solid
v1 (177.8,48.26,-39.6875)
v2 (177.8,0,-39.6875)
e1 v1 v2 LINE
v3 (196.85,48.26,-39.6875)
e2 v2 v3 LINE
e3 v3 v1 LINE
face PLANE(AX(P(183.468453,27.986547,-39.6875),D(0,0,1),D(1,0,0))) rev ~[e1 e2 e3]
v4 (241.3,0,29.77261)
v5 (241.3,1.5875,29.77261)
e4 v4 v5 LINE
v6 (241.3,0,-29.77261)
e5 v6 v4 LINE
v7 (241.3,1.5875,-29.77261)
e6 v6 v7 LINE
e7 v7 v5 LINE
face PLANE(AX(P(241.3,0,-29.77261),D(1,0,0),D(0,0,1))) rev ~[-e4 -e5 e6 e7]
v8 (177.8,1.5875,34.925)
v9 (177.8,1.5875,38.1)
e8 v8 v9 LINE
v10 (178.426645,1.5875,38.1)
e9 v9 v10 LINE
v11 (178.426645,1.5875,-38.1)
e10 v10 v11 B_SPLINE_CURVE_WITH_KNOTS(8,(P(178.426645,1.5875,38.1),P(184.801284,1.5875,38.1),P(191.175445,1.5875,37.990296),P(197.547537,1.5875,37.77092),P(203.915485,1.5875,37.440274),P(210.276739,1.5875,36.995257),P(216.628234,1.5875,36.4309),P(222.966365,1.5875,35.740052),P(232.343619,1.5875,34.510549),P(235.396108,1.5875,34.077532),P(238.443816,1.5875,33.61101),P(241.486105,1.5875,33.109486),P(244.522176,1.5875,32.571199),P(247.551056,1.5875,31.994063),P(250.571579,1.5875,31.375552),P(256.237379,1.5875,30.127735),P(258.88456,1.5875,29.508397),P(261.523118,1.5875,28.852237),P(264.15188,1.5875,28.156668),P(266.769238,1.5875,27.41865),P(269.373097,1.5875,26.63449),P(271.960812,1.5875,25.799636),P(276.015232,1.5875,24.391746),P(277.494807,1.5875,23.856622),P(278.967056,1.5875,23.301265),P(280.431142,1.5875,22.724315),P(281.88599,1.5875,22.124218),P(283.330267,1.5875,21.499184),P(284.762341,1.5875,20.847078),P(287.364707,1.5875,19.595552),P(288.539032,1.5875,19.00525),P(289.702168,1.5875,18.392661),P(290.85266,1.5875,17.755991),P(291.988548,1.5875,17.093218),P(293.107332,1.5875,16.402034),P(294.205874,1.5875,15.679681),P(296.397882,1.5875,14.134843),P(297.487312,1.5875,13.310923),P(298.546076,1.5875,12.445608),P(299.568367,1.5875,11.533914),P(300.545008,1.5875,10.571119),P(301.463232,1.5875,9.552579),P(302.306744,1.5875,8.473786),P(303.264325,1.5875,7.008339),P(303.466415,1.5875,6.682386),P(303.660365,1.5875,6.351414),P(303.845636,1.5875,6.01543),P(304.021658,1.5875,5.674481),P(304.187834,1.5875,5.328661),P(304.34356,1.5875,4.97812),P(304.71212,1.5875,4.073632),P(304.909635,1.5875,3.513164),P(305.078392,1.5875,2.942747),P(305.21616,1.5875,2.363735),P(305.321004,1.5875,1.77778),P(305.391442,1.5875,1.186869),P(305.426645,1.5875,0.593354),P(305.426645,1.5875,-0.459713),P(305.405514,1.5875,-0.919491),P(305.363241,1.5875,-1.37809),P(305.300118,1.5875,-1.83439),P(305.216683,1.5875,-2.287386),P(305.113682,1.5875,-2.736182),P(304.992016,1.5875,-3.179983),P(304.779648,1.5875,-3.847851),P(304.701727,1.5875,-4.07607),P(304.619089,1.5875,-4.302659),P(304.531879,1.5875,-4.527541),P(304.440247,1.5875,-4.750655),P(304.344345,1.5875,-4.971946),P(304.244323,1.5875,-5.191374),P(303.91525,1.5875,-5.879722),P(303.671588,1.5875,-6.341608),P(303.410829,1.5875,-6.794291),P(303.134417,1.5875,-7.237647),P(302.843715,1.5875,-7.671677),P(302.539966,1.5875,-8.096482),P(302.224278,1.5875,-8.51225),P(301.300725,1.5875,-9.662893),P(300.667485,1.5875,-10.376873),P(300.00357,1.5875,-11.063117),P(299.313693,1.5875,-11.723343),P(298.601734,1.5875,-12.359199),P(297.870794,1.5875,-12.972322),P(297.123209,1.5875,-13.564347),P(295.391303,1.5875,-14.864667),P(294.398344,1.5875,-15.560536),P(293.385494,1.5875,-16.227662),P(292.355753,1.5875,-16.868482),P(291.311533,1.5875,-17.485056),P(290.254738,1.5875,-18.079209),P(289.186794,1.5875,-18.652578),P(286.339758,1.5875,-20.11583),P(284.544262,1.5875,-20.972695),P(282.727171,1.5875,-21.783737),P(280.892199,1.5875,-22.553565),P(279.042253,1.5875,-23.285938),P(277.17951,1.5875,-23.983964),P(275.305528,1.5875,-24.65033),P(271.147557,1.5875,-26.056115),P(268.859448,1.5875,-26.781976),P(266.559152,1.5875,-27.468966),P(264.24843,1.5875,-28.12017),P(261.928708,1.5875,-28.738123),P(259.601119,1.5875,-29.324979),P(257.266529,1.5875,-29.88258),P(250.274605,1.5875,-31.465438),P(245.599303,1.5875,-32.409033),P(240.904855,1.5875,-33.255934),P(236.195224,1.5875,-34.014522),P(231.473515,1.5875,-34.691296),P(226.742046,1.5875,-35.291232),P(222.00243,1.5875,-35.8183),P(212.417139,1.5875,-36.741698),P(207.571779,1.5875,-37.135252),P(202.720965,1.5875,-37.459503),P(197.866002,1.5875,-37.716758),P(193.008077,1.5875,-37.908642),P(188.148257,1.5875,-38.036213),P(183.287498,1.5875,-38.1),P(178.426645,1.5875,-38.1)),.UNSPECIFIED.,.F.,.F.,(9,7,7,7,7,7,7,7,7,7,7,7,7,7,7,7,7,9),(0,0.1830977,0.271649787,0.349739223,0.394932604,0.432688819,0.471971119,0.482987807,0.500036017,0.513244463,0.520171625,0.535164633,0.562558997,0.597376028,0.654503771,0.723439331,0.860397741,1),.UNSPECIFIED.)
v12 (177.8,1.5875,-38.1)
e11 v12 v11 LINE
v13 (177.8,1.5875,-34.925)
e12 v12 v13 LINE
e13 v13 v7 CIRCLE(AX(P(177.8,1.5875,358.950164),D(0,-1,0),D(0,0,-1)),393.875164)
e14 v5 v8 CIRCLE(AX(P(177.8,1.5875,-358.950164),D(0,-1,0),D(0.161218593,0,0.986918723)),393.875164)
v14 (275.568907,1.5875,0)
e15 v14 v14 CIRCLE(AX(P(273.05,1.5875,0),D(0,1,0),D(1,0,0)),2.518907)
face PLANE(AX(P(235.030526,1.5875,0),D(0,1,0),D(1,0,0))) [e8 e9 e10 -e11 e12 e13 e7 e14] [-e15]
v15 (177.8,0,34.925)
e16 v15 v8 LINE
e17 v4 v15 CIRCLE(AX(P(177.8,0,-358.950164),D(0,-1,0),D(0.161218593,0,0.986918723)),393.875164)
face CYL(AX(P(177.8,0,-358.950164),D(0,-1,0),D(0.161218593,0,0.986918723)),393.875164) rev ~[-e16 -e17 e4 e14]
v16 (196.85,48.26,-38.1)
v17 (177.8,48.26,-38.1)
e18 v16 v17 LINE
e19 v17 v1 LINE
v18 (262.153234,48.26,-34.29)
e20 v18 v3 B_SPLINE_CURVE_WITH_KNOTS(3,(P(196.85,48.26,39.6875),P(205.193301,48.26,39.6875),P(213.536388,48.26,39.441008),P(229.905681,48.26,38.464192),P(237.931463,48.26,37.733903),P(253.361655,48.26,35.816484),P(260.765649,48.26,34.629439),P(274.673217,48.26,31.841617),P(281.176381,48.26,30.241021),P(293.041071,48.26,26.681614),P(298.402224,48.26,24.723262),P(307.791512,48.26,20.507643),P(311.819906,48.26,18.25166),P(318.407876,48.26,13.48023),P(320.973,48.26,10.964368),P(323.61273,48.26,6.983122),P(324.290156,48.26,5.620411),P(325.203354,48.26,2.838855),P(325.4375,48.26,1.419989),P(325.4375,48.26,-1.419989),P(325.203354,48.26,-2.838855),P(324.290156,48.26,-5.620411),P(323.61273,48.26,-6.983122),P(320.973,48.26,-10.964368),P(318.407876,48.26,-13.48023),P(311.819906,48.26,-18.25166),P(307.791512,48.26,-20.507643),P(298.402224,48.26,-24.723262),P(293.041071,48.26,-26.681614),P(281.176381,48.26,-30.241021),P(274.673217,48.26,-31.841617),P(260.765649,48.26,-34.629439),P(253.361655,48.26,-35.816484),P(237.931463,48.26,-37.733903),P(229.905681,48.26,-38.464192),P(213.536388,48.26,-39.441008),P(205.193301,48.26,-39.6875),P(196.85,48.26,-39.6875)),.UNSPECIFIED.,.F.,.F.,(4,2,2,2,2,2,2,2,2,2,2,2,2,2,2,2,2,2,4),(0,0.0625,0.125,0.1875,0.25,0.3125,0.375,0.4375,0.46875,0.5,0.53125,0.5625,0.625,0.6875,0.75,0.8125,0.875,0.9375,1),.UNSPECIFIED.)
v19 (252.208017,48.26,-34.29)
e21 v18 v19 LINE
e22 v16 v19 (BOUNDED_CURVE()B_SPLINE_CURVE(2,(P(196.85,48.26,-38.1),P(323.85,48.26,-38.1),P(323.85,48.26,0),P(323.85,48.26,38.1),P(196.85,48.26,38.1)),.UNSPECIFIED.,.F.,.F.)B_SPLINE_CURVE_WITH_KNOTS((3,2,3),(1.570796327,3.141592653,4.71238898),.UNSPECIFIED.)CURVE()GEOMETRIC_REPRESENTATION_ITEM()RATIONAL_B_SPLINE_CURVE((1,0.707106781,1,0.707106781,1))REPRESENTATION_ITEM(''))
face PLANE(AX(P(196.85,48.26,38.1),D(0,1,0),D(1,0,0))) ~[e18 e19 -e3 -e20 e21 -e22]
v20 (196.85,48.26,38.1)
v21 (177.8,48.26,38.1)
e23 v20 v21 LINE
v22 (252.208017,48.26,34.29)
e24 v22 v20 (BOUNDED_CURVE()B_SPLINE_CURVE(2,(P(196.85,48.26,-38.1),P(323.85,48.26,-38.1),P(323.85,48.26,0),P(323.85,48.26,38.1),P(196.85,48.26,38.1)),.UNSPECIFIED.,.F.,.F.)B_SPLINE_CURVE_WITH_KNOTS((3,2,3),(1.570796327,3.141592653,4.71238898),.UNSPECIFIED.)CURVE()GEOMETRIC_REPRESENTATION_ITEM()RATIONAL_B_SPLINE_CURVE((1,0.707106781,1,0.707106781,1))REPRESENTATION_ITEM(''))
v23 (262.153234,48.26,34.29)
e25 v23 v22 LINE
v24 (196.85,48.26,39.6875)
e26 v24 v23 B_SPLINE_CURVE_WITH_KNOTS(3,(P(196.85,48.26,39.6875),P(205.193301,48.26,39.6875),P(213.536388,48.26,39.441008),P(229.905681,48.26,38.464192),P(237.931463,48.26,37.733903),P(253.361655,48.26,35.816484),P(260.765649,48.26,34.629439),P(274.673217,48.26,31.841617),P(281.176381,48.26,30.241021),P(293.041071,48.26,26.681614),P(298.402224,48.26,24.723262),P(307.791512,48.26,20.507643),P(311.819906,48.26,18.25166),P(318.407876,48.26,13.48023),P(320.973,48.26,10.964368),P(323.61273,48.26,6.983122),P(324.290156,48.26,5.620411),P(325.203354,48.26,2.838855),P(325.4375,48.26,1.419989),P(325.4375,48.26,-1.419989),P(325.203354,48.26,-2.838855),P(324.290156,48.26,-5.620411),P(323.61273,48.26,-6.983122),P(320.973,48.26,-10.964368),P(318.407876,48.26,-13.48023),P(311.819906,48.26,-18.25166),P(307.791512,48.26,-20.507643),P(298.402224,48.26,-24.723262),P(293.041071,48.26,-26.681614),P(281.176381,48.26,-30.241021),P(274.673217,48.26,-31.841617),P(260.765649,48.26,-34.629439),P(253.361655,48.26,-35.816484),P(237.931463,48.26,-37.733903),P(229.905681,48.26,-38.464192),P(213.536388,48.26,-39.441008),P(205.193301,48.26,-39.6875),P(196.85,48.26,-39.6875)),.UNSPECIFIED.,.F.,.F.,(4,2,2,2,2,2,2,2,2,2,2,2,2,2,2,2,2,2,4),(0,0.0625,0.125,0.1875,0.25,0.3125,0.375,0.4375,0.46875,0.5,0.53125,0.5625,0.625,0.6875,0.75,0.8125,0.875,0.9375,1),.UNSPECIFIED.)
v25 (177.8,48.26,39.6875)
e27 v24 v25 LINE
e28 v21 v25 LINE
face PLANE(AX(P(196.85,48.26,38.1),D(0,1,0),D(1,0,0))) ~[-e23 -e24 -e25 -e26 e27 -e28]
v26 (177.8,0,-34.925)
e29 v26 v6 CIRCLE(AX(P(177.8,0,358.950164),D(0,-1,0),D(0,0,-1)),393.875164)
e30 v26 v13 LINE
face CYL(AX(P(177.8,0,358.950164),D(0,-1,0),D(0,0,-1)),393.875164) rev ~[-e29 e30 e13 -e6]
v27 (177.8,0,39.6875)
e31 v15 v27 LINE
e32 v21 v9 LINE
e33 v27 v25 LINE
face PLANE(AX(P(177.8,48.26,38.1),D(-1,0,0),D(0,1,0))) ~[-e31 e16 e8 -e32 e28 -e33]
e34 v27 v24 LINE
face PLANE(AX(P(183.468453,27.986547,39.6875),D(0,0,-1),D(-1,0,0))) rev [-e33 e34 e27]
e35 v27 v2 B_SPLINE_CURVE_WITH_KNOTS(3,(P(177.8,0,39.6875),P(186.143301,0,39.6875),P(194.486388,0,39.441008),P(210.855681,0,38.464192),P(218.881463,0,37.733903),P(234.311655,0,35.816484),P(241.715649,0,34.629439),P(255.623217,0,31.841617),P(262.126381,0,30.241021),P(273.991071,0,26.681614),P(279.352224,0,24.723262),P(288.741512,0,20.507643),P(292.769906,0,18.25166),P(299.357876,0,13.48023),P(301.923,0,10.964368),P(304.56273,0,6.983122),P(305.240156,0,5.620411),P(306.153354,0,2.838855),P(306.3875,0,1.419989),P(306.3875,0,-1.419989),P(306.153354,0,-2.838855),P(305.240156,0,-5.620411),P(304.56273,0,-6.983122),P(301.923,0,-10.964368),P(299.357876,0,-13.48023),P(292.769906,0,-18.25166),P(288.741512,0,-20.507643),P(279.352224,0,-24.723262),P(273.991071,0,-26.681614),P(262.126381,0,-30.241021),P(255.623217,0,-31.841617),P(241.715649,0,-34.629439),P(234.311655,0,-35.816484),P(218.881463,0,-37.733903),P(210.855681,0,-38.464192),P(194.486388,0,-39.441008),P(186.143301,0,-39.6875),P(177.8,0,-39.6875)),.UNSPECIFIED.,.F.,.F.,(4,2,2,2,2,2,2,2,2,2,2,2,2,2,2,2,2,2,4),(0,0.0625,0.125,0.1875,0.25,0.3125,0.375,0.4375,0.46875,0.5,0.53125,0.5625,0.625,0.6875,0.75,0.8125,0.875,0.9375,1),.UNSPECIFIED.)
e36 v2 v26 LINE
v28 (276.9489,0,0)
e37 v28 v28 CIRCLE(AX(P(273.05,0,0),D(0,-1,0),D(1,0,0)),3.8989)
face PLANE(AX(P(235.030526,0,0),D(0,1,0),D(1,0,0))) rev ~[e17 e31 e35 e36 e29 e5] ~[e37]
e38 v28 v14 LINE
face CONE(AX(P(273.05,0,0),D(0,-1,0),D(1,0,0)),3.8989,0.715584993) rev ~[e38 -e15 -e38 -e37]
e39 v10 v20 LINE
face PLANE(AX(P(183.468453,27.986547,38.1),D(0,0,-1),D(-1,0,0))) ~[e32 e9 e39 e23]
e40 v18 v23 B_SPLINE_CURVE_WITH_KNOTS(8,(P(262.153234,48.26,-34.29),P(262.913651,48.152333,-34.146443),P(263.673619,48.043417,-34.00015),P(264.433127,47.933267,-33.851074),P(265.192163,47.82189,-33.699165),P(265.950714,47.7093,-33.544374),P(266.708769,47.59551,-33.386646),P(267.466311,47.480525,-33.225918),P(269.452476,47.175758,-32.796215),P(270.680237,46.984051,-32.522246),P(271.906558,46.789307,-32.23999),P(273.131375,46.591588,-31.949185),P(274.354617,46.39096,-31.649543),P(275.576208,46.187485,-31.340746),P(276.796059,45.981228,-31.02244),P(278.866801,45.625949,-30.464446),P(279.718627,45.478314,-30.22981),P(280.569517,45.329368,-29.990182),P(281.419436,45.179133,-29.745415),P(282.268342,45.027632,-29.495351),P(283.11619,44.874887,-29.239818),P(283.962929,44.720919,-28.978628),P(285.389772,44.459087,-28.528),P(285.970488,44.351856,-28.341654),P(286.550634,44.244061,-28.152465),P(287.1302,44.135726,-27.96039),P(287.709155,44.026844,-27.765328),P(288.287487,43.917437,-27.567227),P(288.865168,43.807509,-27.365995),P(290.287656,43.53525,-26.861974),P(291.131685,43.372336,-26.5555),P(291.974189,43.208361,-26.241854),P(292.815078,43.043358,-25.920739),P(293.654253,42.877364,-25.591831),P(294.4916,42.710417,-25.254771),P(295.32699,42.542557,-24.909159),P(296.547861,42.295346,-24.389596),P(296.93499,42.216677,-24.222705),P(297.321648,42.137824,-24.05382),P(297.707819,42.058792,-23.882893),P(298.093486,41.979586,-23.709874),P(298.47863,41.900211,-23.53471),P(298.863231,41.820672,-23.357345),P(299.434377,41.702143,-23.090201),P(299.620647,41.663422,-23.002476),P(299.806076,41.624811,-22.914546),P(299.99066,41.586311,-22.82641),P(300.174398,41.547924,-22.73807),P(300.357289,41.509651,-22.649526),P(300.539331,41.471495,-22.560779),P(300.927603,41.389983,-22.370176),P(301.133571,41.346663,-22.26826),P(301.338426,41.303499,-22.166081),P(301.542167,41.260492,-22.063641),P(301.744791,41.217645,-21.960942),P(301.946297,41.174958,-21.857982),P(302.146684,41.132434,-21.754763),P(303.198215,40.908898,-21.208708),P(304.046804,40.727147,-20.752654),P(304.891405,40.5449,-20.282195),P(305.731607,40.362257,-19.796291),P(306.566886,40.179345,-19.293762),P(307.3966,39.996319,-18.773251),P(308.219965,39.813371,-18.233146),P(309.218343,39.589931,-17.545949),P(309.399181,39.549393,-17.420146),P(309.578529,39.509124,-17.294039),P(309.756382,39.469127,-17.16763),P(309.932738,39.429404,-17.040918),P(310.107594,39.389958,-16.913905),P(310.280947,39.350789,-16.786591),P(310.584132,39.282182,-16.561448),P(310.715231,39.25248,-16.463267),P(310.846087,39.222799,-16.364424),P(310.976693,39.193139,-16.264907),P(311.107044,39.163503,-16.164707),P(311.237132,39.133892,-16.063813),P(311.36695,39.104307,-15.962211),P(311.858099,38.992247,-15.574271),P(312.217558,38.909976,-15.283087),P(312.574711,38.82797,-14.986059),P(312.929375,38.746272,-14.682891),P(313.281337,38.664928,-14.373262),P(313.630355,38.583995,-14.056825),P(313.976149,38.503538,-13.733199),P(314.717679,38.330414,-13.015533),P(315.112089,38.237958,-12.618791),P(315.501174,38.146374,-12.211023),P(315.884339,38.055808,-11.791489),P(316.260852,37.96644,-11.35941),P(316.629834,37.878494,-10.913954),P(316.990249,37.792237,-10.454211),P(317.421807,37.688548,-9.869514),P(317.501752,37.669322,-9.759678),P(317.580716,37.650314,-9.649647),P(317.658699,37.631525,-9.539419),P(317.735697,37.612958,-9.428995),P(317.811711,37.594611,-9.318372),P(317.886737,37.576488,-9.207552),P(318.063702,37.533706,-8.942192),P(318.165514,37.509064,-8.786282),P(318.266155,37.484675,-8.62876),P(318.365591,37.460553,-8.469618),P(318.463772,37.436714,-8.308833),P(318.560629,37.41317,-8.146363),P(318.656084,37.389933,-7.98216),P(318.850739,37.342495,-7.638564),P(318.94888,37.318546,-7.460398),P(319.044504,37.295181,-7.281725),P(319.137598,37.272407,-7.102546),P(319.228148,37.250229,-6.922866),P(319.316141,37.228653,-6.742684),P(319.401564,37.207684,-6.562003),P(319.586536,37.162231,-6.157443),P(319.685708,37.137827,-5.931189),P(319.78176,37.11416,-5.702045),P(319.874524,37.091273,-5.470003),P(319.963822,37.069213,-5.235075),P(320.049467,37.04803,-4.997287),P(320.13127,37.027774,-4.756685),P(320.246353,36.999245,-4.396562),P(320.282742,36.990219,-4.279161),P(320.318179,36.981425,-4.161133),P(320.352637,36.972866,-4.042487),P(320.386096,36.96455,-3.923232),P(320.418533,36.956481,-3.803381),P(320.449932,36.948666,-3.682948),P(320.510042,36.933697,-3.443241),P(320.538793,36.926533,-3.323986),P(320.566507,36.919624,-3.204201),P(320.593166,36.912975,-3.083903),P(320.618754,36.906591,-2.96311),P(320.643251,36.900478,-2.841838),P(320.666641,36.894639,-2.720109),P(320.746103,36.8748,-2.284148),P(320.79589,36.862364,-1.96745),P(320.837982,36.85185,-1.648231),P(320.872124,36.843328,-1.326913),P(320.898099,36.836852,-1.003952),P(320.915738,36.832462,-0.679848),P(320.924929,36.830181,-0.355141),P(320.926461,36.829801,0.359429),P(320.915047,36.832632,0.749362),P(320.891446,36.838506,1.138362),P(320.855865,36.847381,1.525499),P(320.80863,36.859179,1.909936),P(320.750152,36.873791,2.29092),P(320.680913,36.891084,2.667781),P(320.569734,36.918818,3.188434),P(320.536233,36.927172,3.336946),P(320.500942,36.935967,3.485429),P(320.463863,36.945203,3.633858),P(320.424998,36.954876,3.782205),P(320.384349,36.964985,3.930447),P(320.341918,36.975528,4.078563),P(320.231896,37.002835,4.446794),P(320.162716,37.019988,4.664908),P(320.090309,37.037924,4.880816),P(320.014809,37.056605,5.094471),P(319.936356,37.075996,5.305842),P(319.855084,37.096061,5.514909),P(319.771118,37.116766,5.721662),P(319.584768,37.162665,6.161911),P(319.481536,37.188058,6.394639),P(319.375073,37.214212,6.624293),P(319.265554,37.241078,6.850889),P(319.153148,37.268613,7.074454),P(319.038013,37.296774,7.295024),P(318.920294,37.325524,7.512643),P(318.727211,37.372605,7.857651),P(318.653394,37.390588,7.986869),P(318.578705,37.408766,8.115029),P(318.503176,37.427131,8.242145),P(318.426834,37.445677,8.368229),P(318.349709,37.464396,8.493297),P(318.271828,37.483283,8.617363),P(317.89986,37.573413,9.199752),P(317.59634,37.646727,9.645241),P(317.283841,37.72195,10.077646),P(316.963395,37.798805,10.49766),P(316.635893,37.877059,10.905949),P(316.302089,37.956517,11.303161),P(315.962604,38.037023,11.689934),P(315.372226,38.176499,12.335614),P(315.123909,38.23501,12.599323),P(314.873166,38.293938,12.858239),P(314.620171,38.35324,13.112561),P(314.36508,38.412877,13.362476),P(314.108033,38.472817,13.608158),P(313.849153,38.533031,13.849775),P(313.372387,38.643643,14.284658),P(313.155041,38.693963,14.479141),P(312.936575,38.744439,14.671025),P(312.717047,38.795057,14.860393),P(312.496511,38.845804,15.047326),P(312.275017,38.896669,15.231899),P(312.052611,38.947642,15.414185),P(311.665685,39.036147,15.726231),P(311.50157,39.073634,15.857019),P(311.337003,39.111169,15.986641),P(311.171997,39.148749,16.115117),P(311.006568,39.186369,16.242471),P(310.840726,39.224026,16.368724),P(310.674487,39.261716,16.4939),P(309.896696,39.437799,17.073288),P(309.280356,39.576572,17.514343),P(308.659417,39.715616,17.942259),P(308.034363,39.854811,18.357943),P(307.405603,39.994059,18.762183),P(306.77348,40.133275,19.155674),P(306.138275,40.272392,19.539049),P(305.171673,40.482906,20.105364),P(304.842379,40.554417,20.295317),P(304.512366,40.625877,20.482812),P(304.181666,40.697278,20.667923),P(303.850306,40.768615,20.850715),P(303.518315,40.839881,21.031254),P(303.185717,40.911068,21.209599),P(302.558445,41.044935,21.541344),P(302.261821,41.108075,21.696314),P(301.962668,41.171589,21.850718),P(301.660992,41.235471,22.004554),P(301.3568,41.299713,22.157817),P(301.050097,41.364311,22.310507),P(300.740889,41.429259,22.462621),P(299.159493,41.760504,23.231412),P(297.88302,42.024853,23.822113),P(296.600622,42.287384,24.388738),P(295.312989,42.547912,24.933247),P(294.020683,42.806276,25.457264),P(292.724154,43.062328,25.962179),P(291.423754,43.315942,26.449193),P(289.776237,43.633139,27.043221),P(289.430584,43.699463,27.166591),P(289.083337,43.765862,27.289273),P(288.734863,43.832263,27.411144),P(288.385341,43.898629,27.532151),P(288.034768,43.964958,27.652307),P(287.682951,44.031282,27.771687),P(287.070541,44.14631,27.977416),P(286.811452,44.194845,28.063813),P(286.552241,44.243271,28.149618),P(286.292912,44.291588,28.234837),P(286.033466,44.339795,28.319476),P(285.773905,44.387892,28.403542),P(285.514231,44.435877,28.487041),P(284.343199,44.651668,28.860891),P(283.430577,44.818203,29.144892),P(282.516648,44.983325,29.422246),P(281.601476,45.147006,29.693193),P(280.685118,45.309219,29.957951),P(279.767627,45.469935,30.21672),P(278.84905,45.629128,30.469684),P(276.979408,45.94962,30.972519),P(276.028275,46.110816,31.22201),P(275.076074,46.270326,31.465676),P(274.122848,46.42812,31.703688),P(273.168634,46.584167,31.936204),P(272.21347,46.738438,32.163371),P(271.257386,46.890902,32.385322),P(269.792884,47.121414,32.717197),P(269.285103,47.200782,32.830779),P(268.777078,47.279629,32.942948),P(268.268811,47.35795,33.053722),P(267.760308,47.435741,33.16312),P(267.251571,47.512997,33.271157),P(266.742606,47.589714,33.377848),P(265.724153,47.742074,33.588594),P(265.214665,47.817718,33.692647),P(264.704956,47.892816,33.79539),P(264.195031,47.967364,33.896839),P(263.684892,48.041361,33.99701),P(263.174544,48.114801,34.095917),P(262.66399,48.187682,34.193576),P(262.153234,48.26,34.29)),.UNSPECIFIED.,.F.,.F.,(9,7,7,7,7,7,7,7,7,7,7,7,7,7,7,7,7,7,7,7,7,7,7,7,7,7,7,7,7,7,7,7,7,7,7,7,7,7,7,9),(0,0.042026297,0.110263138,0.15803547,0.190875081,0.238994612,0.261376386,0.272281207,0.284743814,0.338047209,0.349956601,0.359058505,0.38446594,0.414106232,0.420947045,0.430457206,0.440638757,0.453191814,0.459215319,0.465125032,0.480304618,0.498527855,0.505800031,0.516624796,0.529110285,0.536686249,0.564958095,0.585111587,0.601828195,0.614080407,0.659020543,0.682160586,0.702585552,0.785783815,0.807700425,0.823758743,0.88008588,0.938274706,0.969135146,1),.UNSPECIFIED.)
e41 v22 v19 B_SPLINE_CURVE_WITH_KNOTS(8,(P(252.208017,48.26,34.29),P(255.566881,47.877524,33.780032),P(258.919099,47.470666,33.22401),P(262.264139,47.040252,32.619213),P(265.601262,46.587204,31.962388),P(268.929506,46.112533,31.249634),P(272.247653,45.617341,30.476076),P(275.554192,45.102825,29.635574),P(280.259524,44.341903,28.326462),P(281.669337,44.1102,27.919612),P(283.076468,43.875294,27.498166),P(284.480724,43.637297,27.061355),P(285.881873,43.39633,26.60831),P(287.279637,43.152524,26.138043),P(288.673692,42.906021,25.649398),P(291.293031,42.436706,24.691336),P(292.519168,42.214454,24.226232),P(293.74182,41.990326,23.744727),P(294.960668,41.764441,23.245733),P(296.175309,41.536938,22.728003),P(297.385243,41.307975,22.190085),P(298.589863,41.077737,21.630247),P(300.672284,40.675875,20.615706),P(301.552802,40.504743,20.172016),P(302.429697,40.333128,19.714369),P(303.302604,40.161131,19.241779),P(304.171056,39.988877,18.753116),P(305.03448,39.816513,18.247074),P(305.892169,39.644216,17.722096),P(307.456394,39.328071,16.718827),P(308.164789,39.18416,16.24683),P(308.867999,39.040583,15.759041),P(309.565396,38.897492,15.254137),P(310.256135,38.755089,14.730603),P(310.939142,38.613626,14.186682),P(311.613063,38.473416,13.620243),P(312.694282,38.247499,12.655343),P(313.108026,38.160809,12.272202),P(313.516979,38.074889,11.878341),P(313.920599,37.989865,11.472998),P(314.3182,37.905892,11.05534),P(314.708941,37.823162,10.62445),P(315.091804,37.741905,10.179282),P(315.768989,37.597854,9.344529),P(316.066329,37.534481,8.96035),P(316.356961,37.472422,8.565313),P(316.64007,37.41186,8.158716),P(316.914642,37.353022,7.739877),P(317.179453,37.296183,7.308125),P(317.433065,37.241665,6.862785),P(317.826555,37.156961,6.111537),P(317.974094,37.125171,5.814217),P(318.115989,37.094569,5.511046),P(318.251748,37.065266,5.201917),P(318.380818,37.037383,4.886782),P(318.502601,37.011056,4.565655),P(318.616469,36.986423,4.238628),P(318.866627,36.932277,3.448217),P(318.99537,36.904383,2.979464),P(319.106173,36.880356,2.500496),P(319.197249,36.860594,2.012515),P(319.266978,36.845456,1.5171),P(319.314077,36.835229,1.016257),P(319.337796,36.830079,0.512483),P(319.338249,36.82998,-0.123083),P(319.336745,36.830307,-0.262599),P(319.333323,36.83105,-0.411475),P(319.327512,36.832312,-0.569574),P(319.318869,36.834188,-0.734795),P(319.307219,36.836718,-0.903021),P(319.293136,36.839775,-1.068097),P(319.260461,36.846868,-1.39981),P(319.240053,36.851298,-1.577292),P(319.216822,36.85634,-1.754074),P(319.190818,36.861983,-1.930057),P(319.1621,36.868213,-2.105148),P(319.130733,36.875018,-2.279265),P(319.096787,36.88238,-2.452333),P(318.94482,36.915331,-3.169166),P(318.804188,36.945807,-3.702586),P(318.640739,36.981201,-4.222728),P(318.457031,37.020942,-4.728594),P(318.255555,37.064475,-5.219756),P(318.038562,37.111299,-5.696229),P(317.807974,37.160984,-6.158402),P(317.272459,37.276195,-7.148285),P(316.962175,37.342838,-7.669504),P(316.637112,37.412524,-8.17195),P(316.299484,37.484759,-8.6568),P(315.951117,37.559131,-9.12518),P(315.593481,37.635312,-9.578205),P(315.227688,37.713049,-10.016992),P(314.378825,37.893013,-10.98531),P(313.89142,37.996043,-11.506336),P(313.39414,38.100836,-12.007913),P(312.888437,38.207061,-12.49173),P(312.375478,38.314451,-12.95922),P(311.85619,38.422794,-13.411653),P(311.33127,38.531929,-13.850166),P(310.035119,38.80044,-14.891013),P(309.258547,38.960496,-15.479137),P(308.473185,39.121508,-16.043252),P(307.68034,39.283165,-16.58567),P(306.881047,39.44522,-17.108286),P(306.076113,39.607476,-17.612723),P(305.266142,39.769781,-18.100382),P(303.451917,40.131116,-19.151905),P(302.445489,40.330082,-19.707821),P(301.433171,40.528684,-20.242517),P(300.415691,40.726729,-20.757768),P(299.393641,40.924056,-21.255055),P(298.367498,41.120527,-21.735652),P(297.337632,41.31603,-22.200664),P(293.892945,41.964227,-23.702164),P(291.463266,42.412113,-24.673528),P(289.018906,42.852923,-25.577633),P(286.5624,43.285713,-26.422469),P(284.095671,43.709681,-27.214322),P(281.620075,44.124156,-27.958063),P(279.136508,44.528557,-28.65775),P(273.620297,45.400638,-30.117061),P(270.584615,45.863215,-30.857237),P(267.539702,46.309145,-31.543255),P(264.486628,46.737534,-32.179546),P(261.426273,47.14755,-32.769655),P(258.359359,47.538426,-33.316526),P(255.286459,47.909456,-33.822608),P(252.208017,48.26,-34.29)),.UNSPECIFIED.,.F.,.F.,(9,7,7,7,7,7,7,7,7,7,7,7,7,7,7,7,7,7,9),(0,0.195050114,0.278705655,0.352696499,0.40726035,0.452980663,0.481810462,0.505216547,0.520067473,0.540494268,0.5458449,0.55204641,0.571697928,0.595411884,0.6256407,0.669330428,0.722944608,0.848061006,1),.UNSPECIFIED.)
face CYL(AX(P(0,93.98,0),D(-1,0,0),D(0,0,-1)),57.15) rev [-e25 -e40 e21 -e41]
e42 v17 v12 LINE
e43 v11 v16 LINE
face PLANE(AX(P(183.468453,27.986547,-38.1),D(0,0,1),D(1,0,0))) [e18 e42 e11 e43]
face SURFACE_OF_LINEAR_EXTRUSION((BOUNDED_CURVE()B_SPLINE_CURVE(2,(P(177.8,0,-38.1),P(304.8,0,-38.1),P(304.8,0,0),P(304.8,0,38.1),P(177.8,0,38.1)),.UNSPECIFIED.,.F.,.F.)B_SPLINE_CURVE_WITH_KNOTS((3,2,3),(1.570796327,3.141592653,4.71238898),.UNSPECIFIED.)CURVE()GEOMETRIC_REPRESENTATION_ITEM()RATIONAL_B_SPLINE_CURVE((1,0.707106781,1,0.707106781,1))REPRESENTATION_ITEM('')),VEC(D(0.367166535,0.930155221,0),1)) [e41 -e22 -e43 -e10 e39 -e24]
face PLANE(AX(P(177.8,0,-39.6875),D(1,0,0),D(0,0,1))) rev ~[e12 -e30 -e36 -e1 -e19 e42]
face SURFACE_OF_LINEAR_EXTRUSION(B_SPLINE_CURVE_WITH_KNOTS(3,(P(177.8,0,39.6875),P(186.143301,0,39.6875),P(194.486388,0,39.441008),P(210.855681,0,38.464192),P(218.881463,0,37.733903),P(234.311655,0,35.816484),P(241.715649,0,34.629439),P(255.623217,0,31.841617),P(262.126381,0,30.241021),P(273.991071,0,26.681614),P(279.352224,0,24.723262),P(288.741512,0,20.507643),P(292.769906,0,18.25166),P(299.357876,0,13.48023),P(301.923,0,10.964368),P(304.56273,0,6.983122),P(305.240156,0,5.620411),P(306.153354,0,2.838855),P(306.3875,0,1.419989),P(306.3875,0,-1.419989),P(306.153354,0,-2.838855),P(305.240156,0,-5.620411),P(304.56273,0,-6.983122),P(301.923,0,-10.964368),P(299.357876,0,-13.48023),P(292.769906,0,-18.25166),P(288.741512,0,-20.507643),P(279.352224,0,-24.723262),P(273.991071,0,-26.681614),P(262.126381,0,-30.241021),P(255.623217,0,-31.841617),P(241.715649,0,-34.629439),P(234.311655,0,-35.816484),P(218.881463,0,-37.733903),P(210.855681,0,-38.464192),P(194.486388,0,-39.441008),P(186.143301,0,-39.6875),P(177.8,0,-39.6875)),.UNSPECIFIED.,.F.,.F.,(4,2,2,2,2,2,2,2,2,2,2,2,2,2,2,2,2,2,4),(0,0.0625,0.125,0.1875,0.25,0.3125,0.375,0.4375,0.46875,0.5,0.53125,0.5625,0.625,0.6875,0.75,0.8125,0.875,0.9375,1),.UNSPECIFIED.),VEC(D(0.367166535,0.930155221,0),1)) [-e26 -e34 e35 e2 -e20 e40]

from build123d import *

# Parameters (mm, degrees)
BOSS_EXTRUDE1_DEPTH                               = 1.5875
BOSS_EXTRUDE3_DEPTH                               = 1.5875
SKETCH8_R                                         = 57.15
CUT_EXTRUDE2_DEPTH                                = 332.381489744
CSK_FOR_6_FLAT_HEAD_SOCKET_CAP_SCREW1_D           = 3.7973
CSK_FOR_6_FLAT_HEAD_SOCKET_CAP_SCREW1_DEPTH       = 25.4
CSK_FOR_6_FLAT_HEAD_SOCKET_CAP_SCREW1_CSINK_D     = 7.7978
CSK_FOR_6_FLAT_HEAD_SOCKET_CAP_SCREW1_CSINK_ANGLE = 82
CSK_FOR_6_FLAT_HEAD_SOCKET_CAP_SCREW1_TIP         = 1.140824014


with BuildPart() as part:
    # Sketch2 → Boss-Extrude1 (new body)
    with BuildSketch(Plane(origin=(0, 0, 0), x_dir=(1, 0, 0), z_dir=(0, 1, 0))):
        with BuildLine():
            Line((177.8, 39.6875), (177.8, 34.925))
            ThreePointArc((177.8, 34.925), (209.65434478, 33.634789273), (241.3, 29.772609736))
            Line((241.3, 29.772609736), (241.3, -29.772609736))
            ThreePointArc((241.3, -29.772609736), (209.65434478, -33.634789273), (177.8, -34.925))
            Line((177.8, -34.925), (177.8, -39.6875))
            add(Edge.make_bspline(
                [(177.8, -39.6875), (186.143301052, -39.6875), (194.486387917, -39.441008444), (210.855681467, -38.464191965), (218.88146348, -37.733902814), (234.311655445, -35.816484379), (241.715649009, -34.629439064), (255.6232166, -31.841617193), (262.126380598, -30.241021205), (273.99107136, -26.681613977), (279.352224254, -24.723261918), (288.741511951, -20.507643295), (292.76990648, -18.251659724), (299.357876202, -13.480229969), (301.923000051, -10.964368167), (304.562730244, -6.983122211), (305.240156115, -5.62041101), (306.153353808, -2.838855477), (306.3875, -1.419988971), (306.3875, 1.419988971), (306.153353808, 2.838855477), (305.240156115, 5.62041101), (304.562730244, 6.983122211), (301.923000051, 10.964368167), (299.357876202, 13.480229969), (292.76990648, 18.251659724), (288.741511951, 20.507643295), (279.352224254, 24.723261918), (273.99107136, 26.681613977), (262.126380598, 30.241021205), (255.6232166, 31.841617193), (241.715649009, 34.629439064), (234.311655445, 35.816484379), (218.88146348, 37.733902814), (210.855681467, 38.464191965), (194.486387917, 39.441008444), (186.143301052, 39.6875), (177.8, 39.6875)],
                knots=[0, 0, 0, 0, 0.0625, 0.0625, 0.125, 0.125, 0.1875, 0.1875, 0.25, 0.25, 0.3125, 0.3125, 0.375, 0.375, 0.4375, 0.4375, 0.46875, 0.46875, 0.5, 0.5, 0.53125, 0.53125, 0.5625, 0.5625, 0.625, 0.625, 0.6875, 0.6875, 0.75, 0.75, 0.8125, 0.8125, 0.875, 0.875, 0.9375, 0.9375, 1, 1, 1, 1], degree=3))
        make_face()
    extrude(amount=BOSS_EXTRUDE1_DEPTH)

    # Sweep1: sweep along a path in Sketch5
    with BuildLine(Plane.XY) as sweep1_path:
        Line((306.3875, 0), (325.4375, 48.26))
    # Sketch4 → Sweep1 (sweep)
    with BuildSketch(Plane(origin=(0, 0, 0), x_dir=(1, 0, 0), z_dir=(0, 1, 0))):
        with BuildLine():
            Line((177.8, 38.1), (177.8, 39.6875))
            add(Edge.make_bspline(
                [(177.8, -39.6875), (186.143301052, -39.6875), (194.486387917, -39.441008444), (210.855681467, -38.464191965), (218.88146348, -37.733902814), (234.311655445, -35.816484379), (241.715649009, -34.629439064), (255.6232166, -31.841617193), (262.126380598, -30.241021205), (273.99107136, -26.681613977), (279.352224254, -24.723261918), (288.741511951, -20.507643295), (292.76990648, -18.251659724), (299.357876202, -13.480229969), (301.923000051, -10.964368167), (304.562730244, -6.983122211), (305.240156115, -5.62041101), (306.153353808, -2.838855477), (306.3875, -1.419988971), (306.3875, 1.419988971), (306.153353808, 2.838855477), (305.240156115, 5.62041101), (304.562730244, 6.983122211), (301.923000051, 10.964368167), (299.357876202, 13.480229969), (292.76990648, 18.251659724), (288.741511951, 20.507643295), (279.352224254, 24.723261918), (273.99107136, 26.681613977), (262.126380598, 30.241021205), (255.6232166, 31.841617193), (241.715649009, 34.629439064), (234.311655445, 35.816484379), (218.88146348, 37.733902814), (210.855681467, 38.464191965), (194.486387917, 39.441008444), (186.143301052, 39.6875), (177.8, 39.6875)],
                knots=[0, 0, 0, 0, 0.0625, 0.0625, 0.125, 0.125, 0.1875, 0.1875, 0.25, 0.25, 0.3125, 0.3125, 0.375, 0.375, 0.4375, 0.4375, 0.46875, 0.46875, 0.5, 0.5, 0.53125, 0.53125, 0.5625, 0.5625, 0.625, 0.625, 0.6875, 0.6875, 0.75, 0.75, 0.8125, 0.8125, 0.875, 0.875, 0.9375, 0.9375, 1, 1, 1, 1], degree=3))
            Line((177.8, -39.6875), (177.8, -38.1))
            add(Edge.make_bspline(
                [(177.8, -38.1), (304.8, -38.1), (304.8, 0), (304.8, 38.1), (177.8, 38.1)],
                knots=[1.570796327, 1.570796327, 1.570796327, 3.141592654, 3.141592654, 4.71238898, 4.71238898, 4.71238898], degree=2, weights=[1, 0.707106781, 1, 0.707106781, 1]))
        make_face()
    sweep(path=sweep1_path.line)

    # Sketch7 → Boss-Extrude3 (add)
    with BuildSketch(Plane.XY.offset(-38.1)):
        Polygon((177.8, 0), (196.85, 48.26), (177.8, 48.26), align=None)
    boss_extrude3 = extrude(amount=-BOSS_EXTRUDE3_DEPTH)

    # Mirror2: Boss-Extrude3 across plane
    add(boss_extrude3.mirror(Plane.XY))

    # Sketch8 → Cut-Extrude2 (cut, through all)
    with BuildSketch(Plane(origin=(0, 0, 0), x_dir=(0, 0, -1), z_dir=(1, 0, 0))):
        with Locations((0, 93.98)):
            Circle(SKETCH8_R)
    extrude(amount=CUT_EXTRUDE2_DEPTH, mode=Mode.SUBTRACT)

    # CSK for #6 Flat Head Socket Cap Screw1
    with Locations(Plane(origin=(0, 0, 0), x_dir=(-1, 0, 0), z_dir=(0, -1, 0))):
        with Locations((-273.05, 0)):
            CounterSinkHole(CSK_FOR_6_FLAT_HEAD_SOCKET_CAP_SCREW1_D / 2, CSK_FOR_6_FLAT_HEAD_SOCKET_CAP_SCREW1_CSINK_D / 2, depth=CSK_FOR_6_FLAT_HEAD_SOCKET_CAP_SCREW1_DEPTH, counter_sink_angle=CSK_FOR_6_FLAT_HEAD_SOCKET_CAP_SCREW1_CSINK_ANGLE)
            with Locations((0, 0, -(CSK_FOR_6_FLAT_HEAD_SOCKET_CAP_SCREW1_DEPTH + CSK_FOR_6_FLAT_HEAD_SOCKET_CAP_SCREW1_TIP / 2))):  # 118° drill point
                Cone(0, CSK_FOR_6_FLAT_HEAD_SOCKET_CAP_SCREW1_D / 2, CSK_FOR_6_FLAT_HEAD_SOCKET_CAP_SCREW1_TIP, mode=Mode.SUBTRACT)


solid = part.part
